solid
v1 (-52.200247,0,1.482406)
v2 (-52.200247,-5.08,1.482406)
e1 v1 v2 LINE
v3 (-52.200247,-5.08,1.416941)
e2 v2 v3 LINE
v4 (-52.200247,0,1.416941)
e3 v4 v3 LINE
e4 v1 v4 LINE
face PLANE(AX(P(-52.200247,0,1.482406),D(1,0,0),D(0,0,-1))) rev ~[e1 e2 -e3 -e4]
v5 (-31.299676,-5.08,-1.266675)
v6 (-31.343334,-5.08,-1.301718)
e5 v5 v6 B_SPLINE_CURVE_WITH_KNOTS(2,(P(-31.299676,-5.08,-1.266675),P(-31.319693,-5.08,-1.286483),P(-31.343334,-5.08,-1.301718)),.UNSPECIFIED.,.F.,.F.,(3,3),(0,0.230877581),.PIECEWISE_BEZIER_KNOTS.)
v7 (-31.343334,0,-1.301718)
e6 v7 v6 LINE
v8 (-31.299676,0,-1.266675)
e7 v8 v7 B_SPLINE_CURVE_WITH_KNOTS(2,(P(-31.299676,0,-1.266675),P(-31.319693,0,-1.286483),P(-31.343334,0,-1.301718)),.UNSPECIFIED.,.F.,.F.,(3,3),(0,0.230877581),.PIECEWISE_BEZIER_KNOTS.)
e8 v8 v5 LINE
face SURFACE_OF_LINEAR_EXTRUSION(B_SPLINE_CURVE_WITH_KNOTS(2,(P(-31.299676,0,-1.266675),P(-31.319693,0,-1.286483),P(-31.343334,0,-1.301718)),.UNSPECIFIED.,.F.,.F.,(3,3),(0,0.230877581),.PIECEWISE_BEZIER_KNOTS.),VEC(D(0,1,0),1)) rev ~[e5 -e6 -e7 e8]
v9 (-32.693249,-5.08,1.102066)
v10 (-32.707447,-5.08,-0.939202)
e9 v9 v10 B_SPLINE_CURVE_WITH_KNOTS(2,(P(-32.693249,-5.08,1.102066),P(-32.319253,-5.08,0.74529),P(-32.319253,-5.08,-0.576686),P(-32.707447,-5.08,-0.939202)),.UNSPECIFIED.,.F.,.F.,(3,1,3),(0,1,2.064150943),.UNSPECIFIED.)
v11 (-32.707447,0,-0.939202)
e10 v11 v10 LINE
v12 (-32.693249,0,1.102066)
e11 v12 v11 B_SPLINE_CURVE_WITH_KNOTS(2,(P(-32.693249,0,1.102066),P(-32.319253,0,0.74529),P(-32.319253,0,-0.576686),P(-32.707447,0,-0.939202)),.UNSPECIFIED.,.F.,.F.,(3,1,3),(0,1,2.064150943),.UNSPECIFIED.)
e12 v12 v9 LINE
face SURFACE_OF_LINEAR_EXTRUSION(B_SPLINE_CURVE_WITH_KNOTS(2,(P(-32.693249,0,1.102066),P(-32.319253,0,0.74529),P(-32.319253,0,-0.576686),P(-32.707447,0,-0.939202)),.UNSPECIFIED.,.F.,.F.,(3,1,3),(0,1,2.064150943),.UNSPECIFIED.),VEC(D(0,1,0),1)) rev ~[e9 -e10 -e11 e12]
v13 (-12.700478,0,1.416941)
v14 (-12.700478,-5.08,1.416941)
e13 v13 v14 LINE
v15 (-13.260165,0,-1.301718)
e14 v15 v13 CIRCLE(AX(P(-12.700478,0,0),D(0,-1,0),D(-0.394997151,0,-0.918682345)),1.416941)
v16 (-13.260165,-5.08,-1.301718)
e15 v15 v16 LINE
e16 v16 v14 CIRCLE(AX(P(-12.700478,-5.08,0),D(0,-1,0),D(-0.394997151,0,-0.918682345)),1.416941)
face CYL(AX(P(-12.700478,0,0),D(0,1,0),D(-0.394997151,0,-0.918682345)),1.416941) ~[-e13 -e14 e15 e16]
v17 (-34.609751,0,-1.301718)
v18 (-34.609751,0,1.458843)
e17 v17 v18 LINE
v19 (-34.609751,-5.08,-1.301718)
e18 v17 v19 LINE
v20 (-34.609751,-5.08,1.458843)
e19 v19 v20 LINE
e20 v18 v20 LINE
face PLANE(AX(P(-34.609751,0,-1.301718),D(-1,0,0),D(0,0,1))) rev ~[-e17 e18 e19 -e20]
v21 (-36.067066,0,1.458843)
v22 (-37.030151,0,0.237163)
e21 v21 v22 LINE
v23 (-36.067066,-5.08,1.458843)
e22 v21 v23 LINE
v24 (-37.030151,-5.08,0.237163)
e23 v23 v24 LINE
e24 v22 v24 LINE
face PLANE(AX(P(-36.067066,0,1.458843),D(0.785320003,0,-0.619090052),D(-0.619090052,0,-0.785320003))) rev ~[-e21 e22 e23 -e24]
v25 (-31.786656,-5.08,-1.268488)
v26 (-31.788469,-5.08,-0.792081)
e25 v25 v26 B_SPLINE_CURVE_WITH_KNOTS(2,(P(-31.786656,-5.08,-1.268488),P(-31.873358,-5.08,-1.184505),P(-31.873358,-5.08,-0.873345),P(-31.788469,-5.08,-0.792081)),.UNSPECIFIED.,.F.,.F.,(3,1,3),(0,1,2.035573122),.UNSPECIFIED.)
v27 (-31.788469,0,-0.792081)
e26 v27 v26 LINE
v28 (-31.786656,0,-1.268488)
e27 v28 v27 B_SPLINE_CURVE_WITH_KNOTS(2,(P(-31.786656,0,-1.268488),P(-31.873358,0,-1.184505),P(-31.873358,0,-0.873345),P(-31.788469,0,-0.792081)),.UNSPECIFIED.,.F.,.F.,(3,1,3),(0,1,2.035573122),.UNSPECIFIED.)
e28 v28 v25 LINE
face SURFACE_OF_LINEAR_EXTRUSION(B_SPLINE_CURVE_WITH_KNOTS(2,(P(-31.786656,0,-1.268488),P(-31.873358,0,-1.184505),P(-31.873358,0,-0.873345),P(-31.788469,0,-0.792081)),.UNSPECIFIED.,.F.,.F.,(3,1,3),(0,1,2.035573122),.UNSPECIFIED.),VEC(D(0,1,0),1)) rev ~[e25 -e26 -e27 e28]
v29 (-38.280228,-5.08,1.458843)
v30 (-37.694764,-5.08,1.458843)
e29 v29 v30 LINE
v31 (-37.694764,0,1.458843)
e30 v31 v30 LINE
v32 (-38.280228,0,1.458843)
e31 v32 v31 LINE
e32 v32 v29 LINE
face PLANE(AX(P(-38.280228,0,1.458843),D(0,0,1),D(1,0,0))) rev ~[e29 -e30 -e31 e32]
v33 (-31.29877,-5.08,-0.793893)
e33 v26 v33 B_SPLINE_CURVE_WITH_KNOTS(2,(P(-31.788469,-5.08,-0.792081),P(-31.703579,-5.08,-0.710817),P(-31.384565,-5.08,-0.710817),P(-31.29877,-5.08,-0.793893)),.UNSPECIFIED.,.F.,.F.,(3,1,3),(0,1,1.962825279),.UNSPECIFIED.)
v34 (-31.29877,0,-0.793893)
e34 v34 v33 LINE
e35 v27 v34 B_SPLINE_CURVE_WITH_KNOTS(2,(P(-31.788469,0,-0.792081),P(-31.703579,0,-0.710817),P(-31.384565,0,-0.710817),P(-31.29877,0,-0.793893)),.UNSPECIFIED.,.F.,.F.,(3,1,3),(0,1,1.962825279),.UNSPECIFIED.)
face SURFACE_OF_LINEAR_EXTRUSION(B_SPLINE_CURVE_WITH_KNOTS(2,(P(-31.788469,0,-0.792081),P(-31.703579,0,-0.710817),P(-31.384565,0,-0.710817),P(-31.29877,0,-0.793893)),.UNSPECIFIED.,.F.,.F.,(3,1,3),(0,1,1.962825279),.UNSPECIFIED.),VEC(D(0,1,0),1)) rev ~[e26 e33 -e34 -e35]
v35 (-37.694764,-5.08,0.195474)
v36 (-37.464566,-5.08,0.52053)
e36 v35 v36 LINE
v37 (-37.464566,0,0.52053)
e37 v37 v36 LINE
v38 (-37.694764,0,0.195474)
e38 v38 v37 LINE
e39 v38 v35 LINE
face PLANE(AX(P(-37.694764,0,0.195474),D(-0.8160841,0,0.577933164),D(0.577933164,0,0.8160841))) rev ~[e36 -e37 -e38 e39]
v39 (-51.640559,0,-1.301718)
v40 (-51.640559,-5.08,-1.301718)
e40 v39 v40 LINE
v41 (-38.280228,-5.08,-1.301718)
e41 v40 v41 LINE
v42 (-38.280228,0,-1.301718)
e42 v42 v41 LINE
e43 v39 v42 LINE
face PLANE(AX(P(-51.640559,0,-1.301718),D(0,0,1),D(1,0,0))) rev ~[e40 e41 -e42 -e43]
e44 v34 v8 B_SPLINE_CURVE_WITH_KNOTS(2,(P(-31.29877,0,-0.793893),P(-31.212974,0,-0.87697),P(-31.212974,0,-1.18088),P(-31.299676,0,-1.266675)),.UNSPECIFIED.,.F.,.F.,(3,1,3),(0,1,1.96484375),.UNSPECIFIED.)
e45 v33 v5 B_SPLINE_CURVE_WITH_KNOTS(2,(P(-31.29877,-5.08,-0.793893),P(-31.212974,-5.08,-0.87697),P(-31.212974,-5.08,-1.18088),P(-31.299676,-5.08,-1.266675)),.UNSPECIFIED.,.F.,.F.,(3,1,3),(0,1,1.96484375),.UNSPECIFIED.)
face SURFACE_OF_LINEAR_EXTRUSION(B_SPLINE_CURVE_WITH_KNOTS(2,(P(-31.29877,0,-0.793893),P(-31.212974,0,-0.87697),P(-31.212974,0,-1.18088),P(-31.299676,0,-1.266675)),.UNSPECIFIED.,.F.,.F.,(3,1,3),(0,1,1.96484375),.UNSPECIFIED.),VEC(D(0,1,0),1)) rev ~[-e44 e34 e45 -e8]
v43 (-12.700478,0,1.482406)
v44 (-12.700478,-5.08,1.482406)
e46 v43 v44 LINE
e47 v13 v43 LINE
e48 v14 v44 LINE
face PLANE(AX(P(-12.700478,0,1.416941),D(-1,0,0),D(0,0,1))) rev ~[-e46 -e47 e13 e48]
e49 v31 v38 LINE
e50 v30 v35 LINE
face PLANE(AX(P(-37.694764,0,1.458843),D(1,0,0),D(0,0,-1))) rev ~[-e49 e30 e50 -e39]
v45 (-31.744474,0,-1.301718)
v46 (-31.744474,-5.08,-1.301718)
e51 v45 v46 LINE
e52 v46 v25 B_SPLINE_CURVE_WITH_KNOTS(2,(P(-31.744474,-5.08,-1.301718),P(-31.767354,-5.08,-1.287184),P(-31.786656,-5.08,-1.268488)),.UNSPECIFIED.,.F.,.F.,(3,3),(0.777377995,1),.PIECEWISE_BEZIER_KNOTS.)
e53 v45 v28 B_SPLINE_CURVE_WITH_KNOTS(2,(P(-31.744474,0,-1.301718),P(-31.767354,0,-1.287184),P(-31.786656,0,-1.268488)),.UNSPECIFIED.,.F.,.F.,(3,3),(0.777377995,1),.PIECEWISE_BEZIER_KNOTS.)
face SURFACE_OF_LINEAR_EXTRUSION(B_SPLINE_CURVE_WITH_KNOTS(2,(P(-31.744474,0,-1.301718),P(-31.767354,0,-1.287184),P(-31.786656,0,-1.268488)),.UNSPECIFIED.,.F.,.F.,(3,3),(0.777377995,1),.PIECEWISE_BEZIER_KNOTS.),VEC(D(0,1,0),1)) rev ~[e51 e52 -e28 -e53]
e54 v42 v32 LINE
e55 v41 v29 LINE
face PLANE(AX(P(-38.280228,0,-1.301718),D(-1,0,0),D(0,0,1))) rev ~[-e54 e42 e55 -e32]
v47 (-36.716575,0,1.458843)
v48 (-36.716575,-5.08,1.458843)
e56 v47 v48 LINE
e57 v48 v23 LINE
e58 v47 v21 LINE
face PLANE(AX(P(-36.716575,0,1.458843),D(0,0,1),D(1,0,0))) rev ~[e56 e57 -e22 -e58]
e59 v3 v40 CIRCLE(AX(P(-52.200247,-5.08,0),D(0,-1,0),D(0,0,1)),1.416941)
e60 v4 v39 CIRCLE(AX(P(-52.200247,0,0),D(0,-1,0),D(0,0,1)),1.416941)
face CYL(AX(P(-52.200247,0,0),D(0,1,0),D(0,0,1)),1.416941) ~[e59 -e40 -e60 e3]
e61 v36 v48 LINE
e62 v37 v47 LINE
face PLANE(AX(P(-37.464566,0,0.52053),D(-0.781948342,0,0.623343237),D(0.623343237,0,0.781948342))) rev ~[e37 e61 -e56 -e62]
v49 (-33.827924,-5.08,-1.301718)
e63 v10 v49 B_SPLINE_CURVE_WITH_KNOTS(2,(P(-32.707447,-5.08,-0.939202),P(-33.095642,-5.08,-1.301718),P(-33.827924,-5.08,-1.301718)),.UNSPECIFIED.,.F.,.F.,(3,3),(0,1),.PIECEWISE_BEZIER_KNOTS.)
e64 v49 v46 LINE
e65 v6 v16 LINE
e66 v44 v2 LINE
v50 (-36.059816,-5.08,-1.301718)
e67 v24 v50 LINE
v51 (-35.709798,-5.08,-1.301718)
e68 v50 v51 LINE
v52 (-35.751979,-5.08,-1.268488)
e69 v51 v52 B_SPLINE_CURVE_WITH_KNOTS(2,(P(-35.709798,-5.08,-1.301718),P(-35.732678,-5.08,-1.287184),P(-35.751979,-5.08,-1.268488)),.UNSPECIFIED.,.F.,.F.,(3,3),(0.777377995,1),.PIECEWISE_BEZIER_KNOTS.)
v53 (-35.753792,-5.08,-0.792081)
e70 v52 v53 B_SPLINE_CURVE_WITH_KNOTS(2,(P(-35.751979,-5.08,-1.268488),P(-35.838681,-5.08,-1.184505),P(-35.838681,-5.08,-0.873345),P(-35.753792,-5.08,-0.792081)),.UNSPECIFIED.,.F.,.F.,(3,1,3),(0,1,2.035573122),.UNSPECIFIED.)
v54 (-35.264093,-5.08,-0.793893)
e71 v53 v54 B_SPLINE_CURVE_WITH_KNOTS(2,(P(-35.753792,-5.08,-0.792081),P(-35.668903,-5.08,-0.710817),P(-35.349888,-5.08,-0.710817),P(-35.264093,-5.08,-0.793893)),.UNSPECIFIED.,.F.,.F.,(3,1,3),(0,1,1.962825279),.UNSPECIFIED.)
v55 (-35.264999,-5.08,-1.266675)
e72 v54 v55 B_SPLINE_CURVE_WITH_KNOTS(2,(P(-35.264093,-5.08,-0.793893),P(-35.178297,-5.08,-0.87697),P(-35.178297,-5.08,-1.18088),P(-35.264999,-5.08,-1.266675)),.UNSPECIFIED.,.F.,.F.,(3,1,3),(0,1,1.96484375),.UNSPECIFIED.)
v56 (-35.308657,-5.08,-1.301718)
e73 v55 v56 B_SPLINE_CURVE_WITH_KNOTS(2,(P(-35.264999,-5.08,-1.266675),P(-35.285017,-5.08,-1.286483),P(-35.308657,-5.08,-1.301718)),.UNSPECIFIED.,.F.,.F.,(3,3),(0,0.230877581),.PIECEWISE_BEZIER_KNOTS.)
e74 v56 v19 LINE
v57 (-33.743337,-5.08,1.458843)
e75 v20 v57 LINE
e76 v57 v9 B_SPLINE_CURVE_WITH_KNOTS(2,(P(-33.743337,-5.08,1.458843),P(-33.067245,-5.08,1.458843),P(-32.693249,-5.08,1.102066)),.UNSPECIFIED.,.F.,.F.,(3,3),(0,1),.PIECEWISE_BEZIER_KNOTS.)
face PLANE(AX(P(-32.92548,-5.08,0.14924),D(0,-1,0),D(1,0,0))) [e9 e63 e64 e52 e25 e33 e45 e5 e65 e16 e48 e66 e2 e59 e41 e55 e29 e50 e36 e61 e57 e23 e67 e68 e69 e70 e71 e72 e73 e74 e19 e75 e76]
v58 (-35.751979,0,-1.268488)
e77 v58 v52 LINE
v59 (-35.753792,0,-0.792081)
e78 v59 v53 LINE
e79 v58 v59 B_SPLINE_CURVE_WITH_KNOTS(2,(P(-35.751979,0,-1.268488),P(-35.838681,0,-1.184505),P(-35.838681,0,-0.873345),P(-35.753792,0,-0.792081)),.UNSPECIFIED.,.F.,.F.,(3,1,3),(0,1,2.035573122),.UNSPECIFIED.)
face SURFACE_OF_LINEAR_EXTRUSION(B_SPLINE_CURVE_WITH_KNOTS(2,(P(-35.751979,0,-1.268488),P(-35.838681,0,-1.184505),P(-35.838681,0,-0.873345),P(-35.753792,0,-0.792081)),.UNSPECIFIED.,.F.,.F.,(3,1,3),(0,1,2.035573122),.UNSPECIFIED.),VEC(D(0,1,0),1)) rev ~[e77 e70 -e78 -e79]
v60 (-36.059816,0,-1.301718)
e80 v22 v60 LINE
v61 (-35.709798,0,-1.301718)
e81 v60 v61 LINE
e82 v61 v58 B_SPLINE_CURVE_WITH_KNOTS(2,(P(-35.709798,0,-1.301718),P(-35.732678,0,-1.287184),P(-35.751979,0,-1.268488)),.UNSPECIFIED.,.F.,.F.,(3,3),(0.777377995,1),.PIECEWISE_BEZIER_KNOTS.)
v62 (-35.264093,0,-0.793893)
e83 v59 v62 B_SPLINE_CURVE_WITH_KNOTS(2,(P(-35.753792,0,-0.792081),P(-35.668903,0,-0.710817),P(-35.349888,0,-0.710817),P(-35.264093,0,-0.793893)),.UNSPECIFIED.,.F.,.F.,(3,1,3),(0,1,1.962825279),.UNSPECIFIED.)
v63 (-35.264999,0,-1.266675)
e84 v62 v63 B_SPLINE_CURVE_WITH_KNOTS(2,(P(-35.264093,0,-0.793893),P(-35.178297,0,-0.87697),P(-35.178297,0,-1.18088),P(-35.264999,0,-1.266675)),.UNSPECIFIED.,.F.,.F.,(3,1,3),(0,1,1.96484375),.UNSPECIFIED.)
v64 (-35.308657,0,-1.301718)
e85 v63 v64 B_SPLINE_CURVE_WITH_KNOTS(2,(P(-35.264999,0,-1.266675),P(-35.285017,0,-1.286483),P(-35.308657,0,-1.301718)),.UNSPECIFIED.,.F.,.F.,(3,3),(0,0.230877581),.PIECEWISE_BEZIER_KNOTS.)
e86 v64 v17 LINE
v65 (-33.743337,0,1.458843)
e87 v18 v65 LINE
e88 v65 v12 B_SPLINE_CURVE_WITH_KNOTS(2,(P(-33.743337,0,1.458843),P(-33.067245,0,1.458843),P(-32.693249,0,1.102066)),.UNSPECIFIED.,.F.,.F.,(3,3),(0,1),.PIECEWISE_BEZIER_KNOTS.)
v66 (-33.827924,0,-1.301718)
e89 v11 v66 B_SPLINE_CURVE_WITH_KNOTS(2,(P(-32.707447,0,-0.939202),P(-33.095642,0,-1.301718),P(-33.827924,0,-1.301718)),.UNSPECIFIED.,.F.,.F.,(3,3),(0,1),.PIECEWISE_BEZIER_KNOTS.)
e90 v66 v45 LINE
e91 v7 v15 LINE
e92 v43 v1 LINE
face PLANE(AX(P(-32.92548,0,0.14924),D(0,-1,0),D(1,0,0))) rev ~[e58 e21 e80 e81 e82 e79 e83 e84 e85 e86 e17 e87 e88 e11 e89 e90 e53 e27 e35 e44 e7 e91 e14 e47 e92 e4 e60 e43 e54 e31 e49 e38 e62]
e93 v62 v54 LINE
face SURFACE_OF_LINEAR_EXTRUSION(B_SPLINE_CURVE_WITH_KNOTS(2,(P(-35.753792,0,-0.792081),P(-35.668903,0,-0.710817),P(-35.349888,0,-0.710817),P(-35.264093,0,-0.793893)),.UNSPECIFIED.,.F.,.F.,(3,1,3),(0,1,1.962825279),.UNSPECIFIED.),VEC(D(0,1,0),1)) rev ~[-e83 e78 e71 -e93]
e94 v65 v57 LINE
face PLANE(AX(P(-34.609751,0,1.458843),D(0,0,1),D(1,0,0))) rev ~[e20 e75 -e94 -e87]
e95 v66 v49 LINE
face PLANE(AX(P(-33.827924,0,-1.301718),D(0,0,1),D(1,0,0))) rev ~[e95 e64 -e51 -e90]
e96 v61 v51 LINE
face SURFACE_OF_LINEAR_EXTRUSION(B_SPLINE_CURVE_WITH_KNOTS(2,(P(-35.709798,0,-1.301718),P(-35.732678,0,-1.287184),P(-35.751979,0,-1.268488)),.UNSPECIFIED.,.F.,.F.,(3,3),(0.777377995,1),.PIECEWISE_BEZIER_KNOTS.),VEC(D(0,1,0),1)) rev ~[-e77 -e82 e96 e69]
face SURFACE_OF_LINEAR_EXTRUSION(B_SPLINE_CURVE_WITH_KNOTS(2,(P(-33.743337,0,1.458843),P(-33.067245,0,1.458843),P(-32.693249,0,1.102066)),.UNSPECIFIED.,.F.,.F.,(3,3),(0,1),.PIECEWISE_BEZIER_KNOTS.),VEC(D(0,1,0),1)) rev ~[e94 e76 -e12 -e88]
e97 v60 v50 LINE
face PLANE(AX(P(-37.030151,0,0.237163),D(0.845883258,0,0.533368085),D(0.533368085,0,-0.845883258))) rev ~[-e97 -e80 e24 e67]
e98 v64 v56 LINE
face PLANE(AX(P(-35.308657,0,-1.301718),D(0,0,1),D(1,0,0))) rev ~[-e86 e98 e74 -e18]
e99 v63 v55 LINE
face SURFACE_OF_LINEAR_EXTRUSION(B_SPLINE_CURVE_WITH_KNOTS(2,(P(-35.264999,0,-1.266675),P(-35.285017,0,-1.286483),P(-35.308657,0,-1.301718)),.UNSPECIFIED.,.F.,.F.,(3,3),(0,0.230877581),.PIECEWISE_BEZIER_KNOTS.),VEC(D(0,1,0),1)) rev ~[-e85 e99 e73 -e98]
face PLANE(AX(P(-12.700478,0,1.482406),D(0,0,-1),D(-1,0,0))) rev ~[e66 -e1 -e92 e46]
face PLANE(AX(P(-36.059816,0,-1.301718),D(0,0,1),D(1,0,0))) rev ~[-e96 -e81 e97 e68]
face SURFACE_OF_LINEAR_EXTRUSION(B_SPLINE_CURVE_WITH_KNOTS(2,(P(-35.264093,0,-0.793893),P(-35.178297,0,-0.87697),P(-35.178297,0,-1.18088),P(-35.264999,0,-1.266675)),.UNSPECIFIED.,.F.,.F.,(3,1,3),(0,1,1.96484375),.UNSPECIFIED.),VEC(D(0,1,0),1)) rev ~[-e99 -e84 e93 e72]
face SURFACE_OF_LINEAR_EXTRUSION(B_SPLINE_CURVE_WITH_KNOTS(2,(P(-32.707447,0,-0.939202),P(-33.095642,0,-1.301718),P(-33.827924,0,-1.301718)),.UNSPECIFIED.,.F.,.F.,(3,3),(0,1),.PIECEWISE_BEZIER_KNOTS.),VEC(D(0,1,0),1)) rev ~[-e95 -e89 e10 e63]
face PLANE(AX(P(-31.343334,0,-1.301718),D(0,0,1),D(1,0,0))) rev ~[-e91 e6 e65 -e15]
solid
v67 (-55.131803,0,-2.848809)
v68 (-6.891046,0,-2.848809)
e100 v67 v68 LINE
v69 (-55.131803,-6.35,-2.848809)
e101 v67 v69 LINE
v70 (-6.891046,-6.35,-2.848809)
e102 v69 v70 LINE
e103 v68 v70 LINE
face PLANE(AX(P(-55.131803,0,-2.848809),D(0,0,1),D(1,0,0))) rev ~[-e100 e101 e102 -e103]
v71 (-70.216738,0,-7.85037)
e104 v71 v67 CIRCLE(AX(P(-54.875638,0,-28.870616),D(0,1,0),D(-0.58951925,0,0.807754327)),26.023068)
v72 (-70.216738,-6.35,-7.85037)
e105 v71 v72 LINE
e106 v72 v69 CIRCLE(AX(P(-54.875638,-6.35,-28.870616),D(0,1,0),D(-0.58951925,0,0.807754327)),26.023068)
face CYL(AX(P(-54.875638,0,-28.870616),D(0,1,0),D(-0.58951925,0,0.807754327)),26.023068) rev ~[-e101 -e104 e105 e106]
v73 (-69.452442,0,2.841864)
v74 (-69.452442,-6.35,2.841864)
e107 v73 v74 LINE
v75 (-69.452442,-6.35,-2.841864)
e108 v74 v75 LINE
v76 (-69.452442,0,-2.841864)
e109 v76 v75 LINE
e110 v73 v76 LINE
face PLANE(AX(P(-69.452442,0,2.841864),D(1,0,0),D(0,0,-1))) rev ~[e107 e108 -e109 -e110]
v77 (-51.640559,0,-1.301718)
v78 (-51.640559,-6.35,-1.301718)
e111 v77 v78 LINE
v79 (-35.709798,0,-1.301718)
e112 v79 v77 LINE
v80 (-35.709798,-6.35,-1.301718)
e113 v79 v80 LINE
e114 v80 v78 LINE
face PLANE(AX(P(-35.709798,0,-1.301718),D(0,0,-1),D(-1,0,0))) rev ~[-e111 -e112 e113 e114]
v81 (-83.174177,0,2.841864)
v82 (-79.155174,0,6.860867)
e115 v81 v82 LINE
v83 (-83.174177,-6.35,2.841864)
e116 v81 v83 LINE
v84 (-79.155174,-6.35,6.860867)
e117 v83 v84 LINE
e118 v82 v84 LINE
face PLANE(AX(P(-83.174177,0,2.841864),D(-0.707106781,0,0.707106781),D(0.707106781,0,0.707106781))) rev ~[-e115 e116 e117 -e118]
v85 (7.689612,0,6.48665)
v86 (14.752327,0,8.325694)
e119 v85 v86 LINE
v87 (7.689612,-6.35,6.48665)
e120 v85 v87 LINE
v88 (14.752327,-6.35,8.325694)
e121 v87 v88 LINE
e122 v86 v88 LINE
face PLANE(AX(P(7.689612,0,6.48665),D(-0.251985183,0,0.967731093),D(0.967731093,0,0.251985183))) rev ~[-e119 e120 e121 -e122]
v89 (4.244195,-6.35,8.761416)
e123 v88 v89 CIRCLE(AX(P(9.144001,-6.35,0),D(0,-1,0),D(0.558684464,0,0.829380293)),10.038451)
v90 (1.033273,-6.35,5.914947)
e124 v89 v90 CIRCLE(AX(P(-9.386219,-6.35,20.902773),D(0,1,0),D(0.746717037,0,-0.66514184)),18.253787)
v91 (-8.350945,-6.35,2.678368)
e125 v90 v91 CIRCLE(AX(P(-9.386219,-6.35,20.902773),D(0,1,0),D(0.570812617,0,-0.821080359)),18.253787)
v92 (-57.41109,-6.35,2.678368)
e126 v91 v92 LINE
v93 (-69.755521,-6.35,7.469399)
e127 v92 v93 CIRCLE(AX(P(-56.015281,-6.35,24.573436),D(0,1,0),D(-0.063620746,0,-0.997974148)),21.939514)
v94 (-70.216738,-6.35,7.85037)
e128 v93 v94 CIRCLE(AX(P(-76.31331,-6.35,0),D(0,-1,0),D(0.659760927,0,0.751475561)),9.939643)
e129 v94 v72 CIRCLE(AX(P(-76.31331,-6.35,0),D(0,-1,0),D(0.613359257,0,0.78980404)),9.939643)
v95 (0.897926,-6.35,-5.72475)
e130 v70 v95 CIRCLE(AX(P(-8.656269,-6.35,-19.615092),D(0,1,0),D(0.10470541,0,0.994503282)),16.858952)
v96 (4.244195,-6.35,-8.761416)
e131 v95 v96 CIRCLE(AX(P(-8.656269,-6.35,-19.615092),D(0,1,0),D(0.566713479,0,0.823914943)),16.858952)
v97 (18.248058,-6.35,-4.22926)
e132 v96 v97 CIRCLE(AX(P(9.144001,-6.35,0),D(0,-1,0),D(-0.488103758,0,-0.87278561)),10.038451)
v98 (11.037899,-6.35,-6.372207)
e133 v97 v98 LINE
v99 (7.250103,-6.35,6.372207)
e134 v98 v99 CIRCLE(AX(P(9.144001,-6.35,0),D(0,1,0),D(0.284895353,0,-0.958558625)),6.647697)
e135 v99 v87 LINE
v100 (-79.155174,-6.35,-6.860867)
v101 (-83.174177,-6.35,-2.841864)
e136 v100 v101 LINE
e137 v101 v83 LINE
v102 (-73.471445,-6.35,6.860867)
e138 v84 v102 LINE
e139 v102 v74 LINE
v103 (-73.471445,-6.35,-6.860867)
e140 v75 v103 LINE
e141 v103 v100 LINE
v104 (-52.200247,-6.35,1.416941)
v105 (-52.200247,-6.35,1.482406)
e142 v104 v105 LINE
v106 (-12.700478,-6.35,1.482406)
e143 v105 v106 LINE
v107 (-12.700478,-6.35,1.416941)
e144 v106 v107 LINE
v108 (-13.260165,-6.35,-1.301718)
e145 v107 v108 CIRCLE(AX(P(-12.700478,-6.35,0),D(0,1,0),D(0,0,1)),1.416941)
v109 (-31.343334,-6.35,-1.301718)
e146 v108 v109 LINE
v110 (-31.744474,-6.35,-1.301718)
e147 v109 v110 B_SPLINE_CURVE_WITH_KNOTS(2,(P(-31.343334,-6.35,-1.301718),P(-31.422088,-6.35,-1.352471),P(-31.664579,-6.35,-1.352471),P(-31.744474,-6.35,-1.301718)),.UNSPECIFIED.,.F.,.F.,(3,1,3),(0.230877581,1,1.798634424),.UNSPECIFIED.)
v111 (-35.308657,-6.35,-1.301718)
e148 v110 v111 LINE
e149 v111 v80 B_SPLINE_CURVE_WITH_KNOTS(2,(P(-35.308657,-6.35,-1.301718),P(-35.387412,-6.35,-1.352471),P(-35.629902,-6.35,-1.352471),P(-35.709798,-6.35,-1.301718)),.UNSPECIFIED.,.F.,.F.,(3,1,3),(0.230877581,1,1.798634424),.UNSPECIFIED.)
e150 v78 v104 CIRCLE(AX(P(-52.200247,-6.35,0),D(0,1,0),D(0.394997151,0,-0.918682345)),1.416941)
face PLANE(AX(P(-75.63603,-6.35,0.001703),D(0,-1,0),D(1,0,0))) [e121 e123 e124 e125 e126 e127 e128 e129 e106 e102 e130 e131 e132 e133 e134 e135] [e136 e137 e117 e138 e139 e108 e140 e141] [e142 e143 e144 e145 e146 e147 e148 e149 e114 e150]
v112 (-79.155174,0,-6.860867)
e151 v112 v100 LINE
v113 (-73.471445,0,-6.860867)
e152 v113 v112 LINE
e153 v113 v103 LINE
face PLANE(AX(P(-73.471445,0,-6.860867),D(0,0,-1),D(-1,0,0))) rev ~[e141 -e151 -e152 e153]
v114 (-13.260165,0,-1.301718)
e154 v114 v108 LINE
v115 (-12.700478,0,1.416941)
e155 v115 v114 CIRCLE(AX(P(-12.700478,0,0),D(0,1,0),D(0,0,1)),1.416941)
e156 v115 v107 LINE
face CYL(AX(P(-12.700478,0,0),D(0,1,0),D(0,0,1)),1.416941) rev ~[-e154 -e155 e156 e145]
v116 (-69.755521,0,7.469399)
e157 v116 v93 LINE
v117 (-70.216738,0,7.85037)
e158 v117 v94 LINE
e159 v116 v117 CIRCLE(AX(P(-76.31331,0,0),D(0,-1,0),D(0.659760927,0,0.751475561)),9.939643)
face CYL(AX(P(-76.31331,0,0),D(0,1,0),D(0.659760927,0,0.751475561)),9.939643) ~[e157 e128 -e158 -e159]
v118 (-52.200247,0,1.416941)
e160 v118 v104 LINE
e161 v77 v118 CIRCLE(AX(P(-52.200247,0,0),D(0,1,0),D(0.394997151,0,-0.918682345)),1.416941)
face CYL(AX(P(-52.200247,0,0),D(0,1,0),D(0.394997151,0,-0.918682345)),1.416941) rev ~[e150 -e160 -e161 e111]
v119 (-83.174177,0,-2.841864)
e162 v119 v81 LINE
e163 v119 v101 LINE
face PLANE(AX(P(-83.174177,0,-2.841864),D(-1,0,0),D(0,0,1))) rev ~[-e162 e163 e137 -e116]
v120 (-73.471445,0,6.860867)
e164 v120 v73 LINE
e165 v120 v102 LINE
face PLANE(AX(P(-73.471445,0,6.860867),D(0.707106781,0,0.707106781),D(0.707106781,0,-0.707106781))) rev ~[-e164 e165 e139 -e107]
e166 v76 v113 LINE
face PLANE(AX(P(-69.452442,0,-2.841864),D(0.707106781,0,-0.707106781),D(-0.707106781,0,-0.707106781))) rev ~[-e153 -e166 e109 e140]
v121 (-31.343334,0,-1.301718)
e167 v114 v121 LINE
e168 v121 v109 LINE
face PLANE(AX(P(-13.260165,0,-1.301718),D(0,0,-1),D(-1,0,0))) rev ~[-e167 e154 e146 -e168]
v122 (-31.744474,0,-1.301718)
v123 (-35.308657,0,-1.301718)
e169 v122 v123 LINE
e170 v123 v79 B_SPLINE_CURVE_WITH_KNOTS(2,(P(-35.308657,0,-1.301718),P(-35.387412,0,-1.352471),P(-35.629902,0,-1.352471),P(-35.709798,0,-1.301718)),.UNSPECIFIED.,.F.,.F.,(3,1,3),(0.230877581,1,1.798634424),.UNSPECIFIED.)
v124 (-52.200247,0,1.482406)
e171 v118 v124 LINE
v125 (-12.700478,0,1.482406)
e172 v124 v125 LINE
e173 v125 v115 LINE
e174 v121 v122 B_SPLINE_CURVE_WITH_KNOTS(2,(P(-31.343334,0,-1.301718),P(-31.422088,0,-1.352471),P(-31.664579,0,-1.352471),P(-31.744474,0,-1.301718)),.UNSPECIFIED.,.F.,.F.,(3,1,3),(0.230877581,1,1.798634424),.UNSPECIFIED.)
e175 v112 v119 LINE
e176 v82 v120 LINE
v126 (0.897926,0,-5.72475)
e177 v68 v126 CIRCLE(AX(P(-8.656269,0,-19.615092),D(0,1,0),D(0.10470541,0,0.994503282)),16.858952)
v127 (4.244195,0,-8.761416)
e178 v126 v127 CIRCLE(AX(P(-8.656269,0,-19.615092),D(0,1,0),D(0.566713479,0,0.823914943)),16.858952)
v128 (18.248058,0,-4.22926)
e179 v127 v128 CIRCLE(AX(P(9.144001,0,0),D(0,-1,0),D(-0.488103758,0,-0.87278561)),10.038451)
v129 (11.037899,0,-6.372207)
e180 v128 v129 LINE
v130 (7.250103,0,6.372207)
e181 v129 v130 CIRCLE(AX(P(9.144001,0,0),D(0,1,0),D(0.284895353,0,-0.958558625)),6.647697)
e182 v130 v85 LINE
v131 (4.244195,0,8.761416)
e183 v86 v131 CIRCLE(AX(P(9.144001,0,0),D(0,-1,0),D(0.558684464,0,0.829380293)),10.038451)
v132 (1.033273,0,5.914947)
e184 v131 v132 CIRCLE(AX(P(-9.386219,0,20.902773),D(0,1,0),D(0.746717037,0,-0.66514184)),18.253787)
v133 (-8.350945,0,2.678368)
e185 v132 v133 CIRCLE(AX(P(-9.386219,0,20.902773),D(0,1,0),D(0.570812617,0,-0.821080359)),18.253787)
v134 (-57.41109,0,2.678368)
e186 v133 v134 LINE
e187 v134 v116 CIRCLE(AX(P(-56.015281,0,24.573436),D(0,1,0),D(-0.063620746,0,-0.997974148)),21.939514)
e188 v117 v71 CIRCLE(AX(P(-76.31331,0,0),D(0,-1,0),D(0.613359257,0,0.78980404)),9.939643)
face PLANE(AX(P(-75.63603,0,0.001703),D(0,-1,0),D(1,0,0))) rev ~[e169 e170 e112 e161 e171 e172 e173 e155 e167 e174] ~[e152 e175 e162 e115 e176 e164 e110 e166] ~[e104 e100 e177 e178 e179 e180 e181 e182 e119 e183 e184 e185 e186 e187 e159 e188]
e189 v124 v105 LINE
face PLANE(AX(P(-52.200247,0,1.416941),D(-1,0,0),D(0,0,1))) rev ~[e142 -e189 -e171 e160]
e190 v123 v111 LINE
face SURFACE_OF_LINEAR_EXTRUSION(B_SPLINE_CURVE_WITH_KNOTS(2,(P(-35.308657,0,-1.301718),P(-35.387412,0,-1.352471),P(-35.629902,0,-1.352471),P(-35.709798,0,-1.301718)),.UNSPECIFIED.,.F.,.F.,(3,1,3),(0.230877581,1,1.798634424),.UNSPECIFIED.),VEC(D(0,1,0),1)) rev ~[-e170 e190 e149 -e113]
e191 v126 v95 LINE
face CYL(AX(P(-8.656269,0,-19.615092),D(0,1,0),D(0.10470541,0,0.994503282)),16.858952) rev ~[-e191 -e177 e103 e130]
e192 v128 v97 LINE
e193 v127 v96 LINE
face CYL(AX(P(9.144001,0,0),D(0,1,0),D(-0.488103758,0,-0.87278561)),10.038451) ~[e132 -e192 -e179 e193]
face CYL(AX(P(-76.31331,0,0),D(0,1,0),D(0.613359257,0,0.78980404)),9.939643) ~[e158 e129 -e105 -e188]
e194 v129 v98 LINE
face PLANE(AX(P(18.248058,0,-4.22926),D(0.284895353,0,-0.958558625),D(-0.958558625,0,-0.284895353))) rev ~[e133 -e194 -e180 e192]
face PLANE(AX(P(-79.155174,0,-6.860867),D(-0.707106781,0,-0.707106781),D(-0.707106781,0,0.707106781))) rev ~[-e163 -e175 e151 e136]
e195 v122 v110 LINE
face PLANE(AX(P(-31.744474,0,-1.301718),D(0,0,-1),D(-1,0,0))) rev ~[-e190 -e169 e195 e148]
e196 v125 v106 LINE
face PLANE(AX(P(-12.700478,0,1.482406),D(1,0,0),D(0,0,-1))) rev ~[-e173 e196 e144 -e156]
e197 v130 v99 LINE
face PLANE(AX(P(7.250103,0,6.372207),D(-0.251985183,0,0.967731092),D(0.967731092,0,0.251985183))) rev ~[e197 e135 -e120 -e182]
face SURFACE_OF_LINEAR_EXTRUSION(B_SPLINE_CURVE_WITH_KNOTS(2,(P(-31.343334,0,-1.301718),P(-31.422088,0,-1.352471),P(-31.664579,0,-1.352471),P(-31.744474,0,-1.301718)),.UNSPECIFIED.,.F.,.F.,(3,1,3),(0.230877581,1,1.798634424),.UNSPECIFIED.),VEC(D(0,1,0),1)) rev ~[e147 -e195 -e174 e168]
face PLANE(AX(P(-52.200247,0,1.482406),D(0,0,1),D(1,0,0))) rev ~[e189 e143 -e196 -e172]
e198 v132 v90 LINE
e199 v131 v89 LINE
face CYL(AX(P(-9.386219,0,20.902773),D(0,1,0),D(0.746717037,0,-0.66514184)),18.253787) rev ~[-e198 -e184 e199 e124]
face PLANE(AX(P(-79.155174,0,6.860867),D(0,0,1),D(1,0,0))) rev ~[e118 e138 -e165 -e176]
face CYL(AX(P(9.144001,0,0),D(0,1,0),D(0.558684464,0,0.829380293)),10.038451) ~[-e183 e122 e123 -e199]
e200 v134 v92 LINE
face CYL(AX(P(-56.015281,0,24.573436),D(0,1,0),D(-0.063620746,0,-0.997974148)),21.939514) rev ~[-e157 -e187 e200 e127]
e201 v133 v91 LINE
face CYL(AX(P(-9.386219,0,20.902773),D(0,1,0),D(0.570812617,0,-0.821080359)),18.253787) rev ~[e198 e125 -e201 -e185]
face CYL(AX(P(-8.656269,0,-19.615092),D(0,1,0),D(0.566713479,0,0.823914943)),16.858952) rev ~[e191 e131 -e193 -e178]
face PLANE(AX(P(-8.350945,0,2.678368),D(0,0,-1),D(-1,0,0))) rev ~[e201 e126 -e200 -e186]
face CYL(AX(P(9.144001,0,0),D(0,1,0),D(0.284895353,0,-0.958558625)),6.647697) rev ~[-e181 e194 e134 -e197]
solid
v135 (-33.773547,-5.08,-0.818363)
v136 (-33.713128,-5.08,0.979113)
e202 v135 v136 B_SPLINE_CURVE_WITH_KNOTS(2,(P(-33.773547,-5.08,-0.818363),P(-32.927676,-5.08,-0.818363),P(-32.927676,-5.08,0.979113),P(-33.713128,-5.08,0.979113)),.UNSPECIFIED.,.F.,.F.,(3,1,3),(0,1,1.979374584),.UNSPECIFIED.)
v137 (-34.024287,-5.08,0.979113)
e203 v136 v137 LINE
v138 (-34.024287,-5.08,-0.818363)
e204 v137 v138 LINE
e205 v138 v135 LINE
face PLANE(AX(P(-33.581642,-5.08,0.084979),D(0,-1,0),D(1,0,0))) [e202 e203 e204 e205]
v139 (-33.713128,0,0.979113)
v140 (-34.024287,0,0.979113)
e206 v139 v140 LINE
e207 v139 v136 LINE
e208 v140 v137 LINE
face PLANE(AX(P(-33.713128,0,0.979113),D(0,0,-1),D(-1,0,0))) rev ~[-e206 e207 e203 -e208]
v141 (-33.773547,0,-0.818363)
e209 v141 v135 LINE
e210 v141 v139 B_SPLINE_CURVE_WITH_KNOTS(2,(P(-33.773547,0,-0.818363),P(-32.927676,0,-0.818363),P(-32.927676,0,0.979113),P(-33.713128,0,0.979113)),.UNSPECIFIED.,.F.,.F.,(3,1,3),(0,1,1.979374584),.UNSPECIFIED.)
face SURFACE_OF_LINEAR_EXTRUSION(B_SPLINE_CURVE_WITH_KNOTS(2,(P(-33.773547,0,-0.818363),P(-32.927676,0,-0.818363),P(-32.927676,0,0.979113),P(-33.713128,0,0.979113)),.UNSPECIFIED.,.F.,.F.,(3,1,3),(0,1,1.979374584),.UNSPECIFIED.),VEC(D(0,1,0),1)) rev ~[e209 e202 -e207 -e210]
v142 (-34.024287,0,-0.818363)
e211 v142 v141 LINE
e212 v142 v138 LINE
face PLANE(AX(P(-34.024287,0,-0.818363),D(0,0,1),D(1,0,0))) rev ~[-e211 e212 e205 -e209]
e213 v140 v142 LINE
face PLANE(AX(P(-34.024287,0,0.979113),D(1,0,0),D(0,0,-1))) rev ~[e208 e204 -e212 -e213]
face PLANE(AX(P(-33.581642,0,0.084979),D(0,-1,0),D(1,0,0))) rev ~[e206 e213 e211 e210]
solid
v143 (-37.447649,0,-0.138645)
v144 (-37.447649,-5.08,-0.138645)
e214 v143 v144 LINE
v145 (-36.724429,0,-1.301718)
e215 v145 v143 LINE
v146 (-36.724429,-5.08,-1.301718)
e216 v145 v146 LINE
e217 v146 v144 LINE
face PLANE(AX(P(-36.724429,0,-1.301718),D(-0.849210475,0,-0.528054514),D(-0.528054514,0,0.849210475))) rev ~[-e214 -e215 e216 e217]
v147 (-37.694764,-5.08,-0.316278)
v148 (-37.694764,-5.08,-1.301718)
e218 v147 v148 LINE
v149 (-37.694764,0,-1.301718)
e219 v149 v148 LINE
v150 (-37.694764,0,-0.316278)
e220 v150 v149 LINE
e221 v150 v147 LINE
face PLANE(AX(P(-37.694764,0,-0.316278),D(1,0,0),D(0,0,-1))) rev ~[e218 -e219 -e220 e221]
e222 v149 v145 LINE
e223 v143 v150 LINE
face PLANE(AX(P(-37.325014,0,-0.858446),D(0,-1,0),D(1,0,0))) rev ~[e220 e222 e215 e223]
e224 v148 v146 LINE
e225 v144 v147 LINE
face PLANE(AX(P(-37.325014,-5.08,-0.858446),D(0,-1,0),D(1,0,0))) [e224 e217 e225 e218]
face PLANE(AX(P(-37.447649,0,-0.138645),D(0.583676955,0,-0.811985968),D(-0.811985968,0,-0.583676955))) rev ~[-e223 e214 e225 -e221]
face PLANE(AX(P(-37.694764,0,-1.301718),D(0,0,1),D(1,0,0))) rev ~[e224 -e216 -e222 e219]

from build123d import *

# Parameters (mm, degrees)
F1_DEPTH = 5.08
F2_DEPTH = 6.35


with BuildPart() as f1:
    # F0 (on Front) → F1 (new body)
    with BuildSketch(Plane.XZ):
        Polygon((-37.6947642991, -0.3162783257), (-37.6947642991, -1.3017182937), (-36.7244291742, -1.3017182937), (-37.4476490649, -0.1386453701), align=None)
    extrude(amount=F1_DEPTH)


with BuildPart() as f1b:
    # F0 (on Front) → F1, piece 2 (new body)
    with BuildSketch(Plane.XZ):
        with BuildLine():
            add(Edge.make_bspline(
                [(-33.7735470137, -0.8183633124), (-32.9276757965, -0.8183633124), (-32.9276757965, 0.0897398586)],
                knots=[0, 0, 0, 1, 1, 1], degree=2))
            add(Edge.make_bspline(
                [(-32.9276757965, 0.0897398586), (-32.9276757965, 0.9791130241), (-33.7131276411, 0.9791130241)],
                knots=[0, 0, 0, 1, 1, 1], degree=2))
            Line((-33.7131276411, 0.9791130241), (-34.0242874102, 0.9791130241))
            Line((-34.0242874102, 0.9791130241), (-34.0242874102, -0.8183633124))
            Line((-34.0242874102, -0.8183633124), (-33.7735470137, -0.8183633124))
        make_face()
    extrude(amount=F1_DEPTH)


with BuildPart() as f1c:
    # F0 (on Front) → F1, piece 3 (new body)
    with BuildSketch(Plane.XZ):
        with BuildLine():
            ThreePointArc((-52.2002466023, 1.4169405788), (-53.5880827015, -0.2857123828), (-51.6405591111, -1.3017182937))
            Line((-51.6405591111, -1.3017182937), (-38.2802280201, -1.3017182937))
            Line((-38.2802280201, -1.3017182937), (-38.2802280201, 1.4588428429))
            Line((-38.2802280201, 1.4588428429), (-37.6947642991, 1.4588428429))
            Line((-37.6947642991, 1.4588428429), (-37.6947642991, 0.1954737607))
            Line((-37.6947642991, 0.1954737607), (-37.4645664893, 0.5205299856))
            Line((-37.4645664893, 0.5205299856), (-36.7165746558, 1.4588428429))
            Line((-36.7165746558, 1.4588428429), (-36.0670663997, 1.4588428429))
            Line((-36.0670663997, 1.4588428429), (-37.0301511999, 0.2371631278))
            Line((-37.0301511999, 0.2371631278), (-36.059816075, -1.3017182937))
            Line((-36.059816075, -1.3017182937), (-35.7097975851, -1.3017182937))
            add(Edge.make_bspline(
                [(-35.7097975851, -1.3017182937), (-35.7326776428, -1.2871840866), (-35.7519793713, -1.2684876387)],
                knots=[0.7773779948, 0.7773779948, 0.7773779948, 1, 1, 1], degree=2))
            add(Edge.make_bspline(
                [(-35.7519793713, -1.2684876387), (-35.8386811711, -1.1845047107), (-35.8386811711, -1.0316436979)],
                knots=[0, 0, 0, 1, 1, 1], degree=2))
            add(Edge.make_bspline(
                [(-35.8386811711, -1.0316436979), (-35.8386811711, -0.8733449416), (-35.7537919525, -0.7920808853)],
                knots=[0, 0, 0, 1, 1, 1], degree=2))
            add(Edge.make_bspline(
                [(-35.7537919525, -0.7920808853), (-35.6689027339, -0.7108168291), (-35.5063746215, -0.7108168291)],
                knots=[0, 0, 0, 1, 1, 1], degree=2))
            add(Edge.make_bspline(
                [(-35.5063746215, -0.7108168291), (-35.3498884463, -0.7108168291), (-35.2640929371, -0.7938934665)],
                knots=[0, 0, 0, 1, 1, 1], degree=2))
            add(Edge.make_bspline(
                [(-35.2640929371, -0.7938934665), (-35.178297428, -0.8769701039), (-35.178297428, -1.0316436979)],
                knots=[0, 0, 0, 1, 1, 1], degree=2))
            add(Edge.make_bspline(
                [(-35.178297428, -1.0316436979), (-35.178297428, -1.1808795484), (-35.2649992277, -1.2666750575)],
                knots=[0, 0, 0, 1, 1, 1], degree=2))
            add(Edge.make_bspline(
                [(-35.2649992277, -1.2666750575), (-35.2850167295, -1.2864833171), (-35.3086574309, -1.3017182937)],
                knots=[0, 0, 0, 0.2308775808, 0.2308775808, 0.2308775808], degree=2))
            Line((-35.3086574309, -1.3017182937), (-34.6097511313, -1.3017182937))
            Line((-34.6097511313, -1.3017182937), (-34.6097511313, 1.4588428429))
            Line((-34.6097511313, 1.4588428429), (-33.7433373274, 1.4588428429))
            add(Edge.make_bspline(
                [(-33.7433373274, 1.4588428429), (-33.0672445474, 1.4588428429), (-32.6932486306, 1.1020664474)],
                knots=[0, 0, 0, 1, 1, 1], degree=2))
            add(Edge.make_bspline(
                [(-32.6932486306, 1.1020664474), (-32.3192527139, 0.7452900519), (-32.3192527139, 0.1048447017)],
                knots=[0, 0, 0, 1, 1, 1], degree=2))
            add(Edge.make_bspline(
                [(-32.3192527139, 0.1048447017), (-32.3192527139, -0.5766858218), (-32.7074471832, -0.9392020578)],
                knots=[0, 0, 0, 1, 1, 1], degree=2))
            add(Edge.make_bspline(
                [(-32.7074471832, -0.9392020578), (-33.0956416525, -1.3017182937), (-33.8279244491, -1.3017182937)],
                knots=[0, 0, 0, 1, 1, 1], degree=2))
            Line((-33.8279244491, -1.3017182937), (-31.7444741577, -1.3017182937))
            add(Edge.make_bspline(
                [(-31.7444741577, -1.3017182937), (-31.7673542154, -1.2871840866), (-31.7866559439, -1.2684876387)],
                knots=[0.7773779948, 0.7773779948, 0.7773779948, 1, 1, 1], degree=2))
            add(Edge.make_bspline(
                [(-31.7866559439, -1.2684876387), (-31.8733577437, -1.1845047107), (-31.8733577437, -1.0316436979)],
                knots=[0, 0, 0, 1, 1, 1], degree=2))
            add(Edge.make_bspline(
                [(-31.8733577437, -1.0316436979), (-31.8733577437, -0.8733449416), (-31.7884685251, -0.7920808853)],
                knots=[0, 0, 0, 1, 1, 1], degree=2))
            add(Edge.make_bspline(
                [(-31.7884685251, -0.7920808853), (-31.7035793065, -0.7108168291), (-31.5410511941, -0.7108168291)],
                knots=[0, 0, 0, 1, 1, 1], degree=2))
            add(Edge.make_bspline(
                [(-31.5410511941, -0.7108168291), (-31.3845650189, -0.7108168291), (-31.2987695098, -0.7938934665)],
                knots=[0, 0, 0, 1, 1, 1], degree=2))
            add(Edge.make_bspline(
                [(-31.2987695098, -0.7938934665), (-31.2129740006, -0.8769701039), (-31.2129740006, -1.0316436979)],
                knots=[0, 0, 0, 1, 1, 1], degree=2))
            add(Edge.make_bspline(
                [(-31.2129740006, -1.0316436979), (-31.2129740006, -1.1808795484), (-31.2996758003, -1.2666750575)],
                knots=[0, 0, 0, 1, 1, 1], degree=2))
            add(Edge.make_bspline(
                [(-31.2996758003, -1.2666750575), (-31.3196933021, -1.2864833171), (-31.3433340035, -1.3017182937)],
                knots=[0, 0, 0, 0.2308775808, 0.2308775808, 0.2308775808], degree=2))
            Line((-31.3433340035, -1.3017182937), (-13.2601651062, -1.3017182937))
            ThreePointArc((-13.2601651062, -1.3017182937), (-11.3126415158, -0.2857123828), (-12.700477615, 1.4169405788))
            Line((-12.700477615, 1.4169405788), (-12.700477615, 1.4824063983))
            Line((-12.700477615, 1.4824063983), (-52.2002466023, 1.4824063983))
            Line((-52.2002466023, 1.4824063983), (-52.2002466023, 1.4169405788))
        make_face()
    extrude(amount=F1_DEPTH)


with BuildPart() as f2:
    # F0 (on Front) → F2 (new body)
    with BuildSketch(Plane.XZ):
        with BuildLine():
            ThreePointArc((-69.7555214797, 7.4693989174), (-69.9874280313, 7.658312579), (-70.216737524, 7.8503703223))
            ThreePointArc((-70.216737524, 7.8503703223), (-86.2529528158, 0), (-70.216737524, -7.8503703223))
            ThreePointArc((-70.216737524, -7.8503703223), (-67.3859848234, -4.37028343), (-66.3736665078, 0))
            ThreePointArc((-66.3736665078, 0), (-67.2585158917, 4.0996604505), (-69.7555214797, 7.4693989174))
        make_face()
        Polygon((-73.4714453214, 6.860867433), (-69.4524422288, 2.8418643404), (-69.4524422288, -2.8418643404), (-73.4714453214, -6.860867433), (-79.1551740022, -6.860867433), (-83.1741770948, -2.8418643404), (-83.1741770948, 2.8418643404), (-79.1551740022, 6.860867433), align=None, mode=Mode.SUBTRACT)
        with BuildLine():
            ThreePointArc((-69.7555214797, 7.4693989174), (-69.9832627758, 7.6633551692), (-70.216737524, 7.8503703223))
            ThreePointArc((-70.216737524, 7.8503703223), (-69.9874280313, 7.658312579), (-69.7555214797, 7.4693989174))
        make_face()
        with BuildLine():
            ThreePointArc((-66.3736665078, 0), (-67.3859848234, -4.37028343), (-70.216737524, -7.8503703223))
            ThreePointArc((-70.216737524, -7.8503703223), (-63.0654222914, -4.1698569866), (-55.1318026872, -2.8488089384))
            ThreePointArc((-55.1318026872, -2.8488089384), (-54.8756379392, -2.8475480962), (-54.6194731912, -2.8488089384))
            Line((-54.6194731912, -2.8488089384), (-10.4214928767, -2.8488089384))
            ThreePointArc((-10.4214928767, -2.8488089384), (-8.6562693679, -2.7561400258), (-6.8910458592, -2.8488089384))
            ThreePointArc((-6.8910458592, -2.8488089384), (-2.8167428022, -3.7997768938), (0.8979261583, -5.7247496122))
            ThreePointArc((0.8979261583, -5.7247496122), (0.0931355174, -4.3419284773), (-0.481735172, -2.8488089384))
            ThreePointArc((-0.481735172, -2.8488089384), (-0.8940591369, -0.0886462018), (-0.5305457237, 2.6783679621))
            ThreePointArc((-0.5305457237, 2.6783679621), (0.1053141536, 4.3672244014), (1.0332730926, 5.9149472653))
            ThreePointArc((1.0332730926, 5.9149472653), (-3.4345991731, 3.6465000935), (-8.3509449023, 2.6783679621))
            ThreePointArc((-8.3509449023, 2.6783679621), (-9.3862188895, 2.6489862369), (-10.4214928767, 2.6783679621))
            Line((-10.4214928767, 2.6783679621), (-54.6194731912, 2.6783679621))
            ThreePointArc((-54.6194731912, 2.6783679621), (-56.0152814214, 2.6339217613), (-57.4110896516, 2.6783679621))
            ThreePointArc((-57.4110896516, 2.6783679621), (-63.953384712, 4.1203482121), (-69.7555214797, 7.4693989174))
            ThreePointArc((-69.7555214797, 7.4693989174), (-67.2585158917, 4.0996604505), (-66.3736665078, 0))
        make_face()
        with BuildLine():
            Line((-38.2802280201, -1.3017182937), (-51.6405591111, -1.3017182937))
            ThreePointArc((-51.6405591111, -1.3017182937), (-53.5880827015, -0.2857123828), (-52.2002466023, 1.4169405788))
            Line((-52.2002466023, 1.4169405788), (-52.2002466023, 1.4824063983))
            Line((-52.2002466023, 1.4824063983), (-12.700477615, 1.4824063983))
            Line((-12.700477615, 1.4824063983), (-12.700477615, 1.4169405788))
            ThreePointArc((-12.700477615, 1.4169405788), (-11.3126415158, -0.2857123828), (-13.2601651062, -1.3017182937))
            Line((-13.2601651062, -1.3017182937), (-31.3433340035, -1.3017182937))
            add(Edge.make_bspline(
                [(-31.3433340035, -1.3017182937), (-31.4220882653, -1.3524705667), (-31.5410511941, -1.3524705667)],
                knots=[0.2308775808, 0.2308775808, 0.2308775808, 1, 1, 1], degree=2))
            add(Edge.make_bspline(
                [(-31.5410511941, -1.3524705667), (-31.6645788508, -1.3524705667), (-31.7444741577, -1.3017182937)],
                knots=[0, 0, 0, 0.7773779948, 0.7773779948, 0.7773779948], degree=2))
            Line((-31.7444741577, -1.3017182937), (-33.8279244491, -1.3017182937))
            Line((-33.8279244491, -1.3017182937), (-34.6097511313, -1.3017182937))
            Line((-34.6097511313, -1.3017182937), (-35.3086574309, -1.3017182937))
            add(Edge.make_bspline(
                [(-35.3086574309, -1.3017182937), (-35.3874116927, -1.3524705667), (-35.5063746215, -1.3524705667)],
                knots=[0.2308775808, 0.2308775808, 0.2308775808, 1, 1, 1], degree=2))
            add(Edge.make_bspline(
                [(-35.5063746215, -1.3524705667), (-35.6299022782, -1.3524705667), (-35.7097975851, -1.3017182937)],
                knots=[0, 0, 0, 0.7773779948, 0.7773779948, 0.7773779948], degree=2))
            Line((-35.7097975851, -1.3017182937), (-36.059816075, -1.3017182937))
            Line((-36.059816075, -1.3017182937), (-36.7244291742, -1.3017182937))
            Line((-36.7244291742, -1.3017182937), (-37.6947642991, -1.3017182937))
            Line((-37.6947642991, -1.3017182937), (-38.2802280201, -1.3017182937))
        make_face(mode=Mode.SUBTRACT)
        with BuildLine():
            ThreePointArc((-54.6194731912, -2.8488089384), (-54.8756379392, -2.8475480962), (-55.1318026872, -2.8488089384))
            Line((-55.1318026872, -2.8488089384), (-54.6194731912, -2.8488089384))
        make_face()
        with BuildLine():
            Line((-54.6194731912, 2.6783679621), (-57.4110896516, 2.6783679621))
            ThreePointArc((-57.4110896516, 2.6783679621), (-56.0152814214, 2.6339217613), (-54.6194731912, 2.6783679621))
        make_face()
        with BuildLine():
            ThreePointArc((-6.8910458592, -2.8488089384), (-8.6562693679, -2.7561400258), (-10.4214928767, -2.8488089384))
            Line((-10.4214928767, -2.8488089384), (-6.8910458592, -2.8488089384))
        make_face()
        with BuildLine():
            Line((-8.3509449023, 2.6783679621), (-10.4214928767, 2.6783679621))
            ThreePointArc((-10.4214928767, 2.6783679621), (-9.3862188895, 2.6489862369), (-8.3509449023, 2.6783679621))
        make_face()
        with BuildLine():
            ThreePointArc((-0.481735172, -2.8488089384), (0.0931355174, -4.3419284773), (0.8979261583, -5.7247496122))
            ThreePointArc((0.8979261583, -5.7247496122), (2.6732616169, -7.1304617501), (4.2441949289, -8.7614158066))
            ThreePointArc((4.2441949289, -8.7614158066), (12.2349623012, -9.550730865), (18.2480584248, -4.2292595958))
            Line((18.2480584248, -4.2292595958), (11.0378986921, -6.3722072966))
            ThreePointArc((11.0378986921, -6.3722072966), (2.7717934125, -1.8938979831), (7.250102726, 6.3722072966))
            ThreePointArc((7.250102726, 6.3722072966), (7.4688795623, 6.4331830803), (7.6896116225, 6.4866499664))
            Line((7.6896116225, 6.4866499664), (14.7523274643, 8.3256936423))
            ThreePointArc((14.7523274643, 8.3256936423), (9.5598900503, 10.0298324849), (4.2441949289, 8.7614158066))
            ThreePointArc((4.2441949289, 8.7614158066), (2.7226657843, 7.2435033899), (1.0332730926, 5.9149472653))
            ThreePointArc((1.0332730926, 5.9149472653), (0.1053141536, 4.3672244014), (-0.5305457237, 2.6783679621))
            ThreePointArc((-0.5305457237, 2.6783679621), (-0.8940591369, -0.0886462018), (-0.481735172, -2.8488089384))
        make_face()
        with BuildLine():
            Line((7.250102726, 6.3722072966), (7.6896116225, 6.4866499664))
            ThreePointArc((7.6896116225, 6.4866499664), (7.4688795623, 6.4331830803), (7.250102726, 6.3722072966))
        make_face()
    extrude(amount=F2_DEPTH)


solid = Compound([f1.part, f1b.part, f1c.part, f2.part])
